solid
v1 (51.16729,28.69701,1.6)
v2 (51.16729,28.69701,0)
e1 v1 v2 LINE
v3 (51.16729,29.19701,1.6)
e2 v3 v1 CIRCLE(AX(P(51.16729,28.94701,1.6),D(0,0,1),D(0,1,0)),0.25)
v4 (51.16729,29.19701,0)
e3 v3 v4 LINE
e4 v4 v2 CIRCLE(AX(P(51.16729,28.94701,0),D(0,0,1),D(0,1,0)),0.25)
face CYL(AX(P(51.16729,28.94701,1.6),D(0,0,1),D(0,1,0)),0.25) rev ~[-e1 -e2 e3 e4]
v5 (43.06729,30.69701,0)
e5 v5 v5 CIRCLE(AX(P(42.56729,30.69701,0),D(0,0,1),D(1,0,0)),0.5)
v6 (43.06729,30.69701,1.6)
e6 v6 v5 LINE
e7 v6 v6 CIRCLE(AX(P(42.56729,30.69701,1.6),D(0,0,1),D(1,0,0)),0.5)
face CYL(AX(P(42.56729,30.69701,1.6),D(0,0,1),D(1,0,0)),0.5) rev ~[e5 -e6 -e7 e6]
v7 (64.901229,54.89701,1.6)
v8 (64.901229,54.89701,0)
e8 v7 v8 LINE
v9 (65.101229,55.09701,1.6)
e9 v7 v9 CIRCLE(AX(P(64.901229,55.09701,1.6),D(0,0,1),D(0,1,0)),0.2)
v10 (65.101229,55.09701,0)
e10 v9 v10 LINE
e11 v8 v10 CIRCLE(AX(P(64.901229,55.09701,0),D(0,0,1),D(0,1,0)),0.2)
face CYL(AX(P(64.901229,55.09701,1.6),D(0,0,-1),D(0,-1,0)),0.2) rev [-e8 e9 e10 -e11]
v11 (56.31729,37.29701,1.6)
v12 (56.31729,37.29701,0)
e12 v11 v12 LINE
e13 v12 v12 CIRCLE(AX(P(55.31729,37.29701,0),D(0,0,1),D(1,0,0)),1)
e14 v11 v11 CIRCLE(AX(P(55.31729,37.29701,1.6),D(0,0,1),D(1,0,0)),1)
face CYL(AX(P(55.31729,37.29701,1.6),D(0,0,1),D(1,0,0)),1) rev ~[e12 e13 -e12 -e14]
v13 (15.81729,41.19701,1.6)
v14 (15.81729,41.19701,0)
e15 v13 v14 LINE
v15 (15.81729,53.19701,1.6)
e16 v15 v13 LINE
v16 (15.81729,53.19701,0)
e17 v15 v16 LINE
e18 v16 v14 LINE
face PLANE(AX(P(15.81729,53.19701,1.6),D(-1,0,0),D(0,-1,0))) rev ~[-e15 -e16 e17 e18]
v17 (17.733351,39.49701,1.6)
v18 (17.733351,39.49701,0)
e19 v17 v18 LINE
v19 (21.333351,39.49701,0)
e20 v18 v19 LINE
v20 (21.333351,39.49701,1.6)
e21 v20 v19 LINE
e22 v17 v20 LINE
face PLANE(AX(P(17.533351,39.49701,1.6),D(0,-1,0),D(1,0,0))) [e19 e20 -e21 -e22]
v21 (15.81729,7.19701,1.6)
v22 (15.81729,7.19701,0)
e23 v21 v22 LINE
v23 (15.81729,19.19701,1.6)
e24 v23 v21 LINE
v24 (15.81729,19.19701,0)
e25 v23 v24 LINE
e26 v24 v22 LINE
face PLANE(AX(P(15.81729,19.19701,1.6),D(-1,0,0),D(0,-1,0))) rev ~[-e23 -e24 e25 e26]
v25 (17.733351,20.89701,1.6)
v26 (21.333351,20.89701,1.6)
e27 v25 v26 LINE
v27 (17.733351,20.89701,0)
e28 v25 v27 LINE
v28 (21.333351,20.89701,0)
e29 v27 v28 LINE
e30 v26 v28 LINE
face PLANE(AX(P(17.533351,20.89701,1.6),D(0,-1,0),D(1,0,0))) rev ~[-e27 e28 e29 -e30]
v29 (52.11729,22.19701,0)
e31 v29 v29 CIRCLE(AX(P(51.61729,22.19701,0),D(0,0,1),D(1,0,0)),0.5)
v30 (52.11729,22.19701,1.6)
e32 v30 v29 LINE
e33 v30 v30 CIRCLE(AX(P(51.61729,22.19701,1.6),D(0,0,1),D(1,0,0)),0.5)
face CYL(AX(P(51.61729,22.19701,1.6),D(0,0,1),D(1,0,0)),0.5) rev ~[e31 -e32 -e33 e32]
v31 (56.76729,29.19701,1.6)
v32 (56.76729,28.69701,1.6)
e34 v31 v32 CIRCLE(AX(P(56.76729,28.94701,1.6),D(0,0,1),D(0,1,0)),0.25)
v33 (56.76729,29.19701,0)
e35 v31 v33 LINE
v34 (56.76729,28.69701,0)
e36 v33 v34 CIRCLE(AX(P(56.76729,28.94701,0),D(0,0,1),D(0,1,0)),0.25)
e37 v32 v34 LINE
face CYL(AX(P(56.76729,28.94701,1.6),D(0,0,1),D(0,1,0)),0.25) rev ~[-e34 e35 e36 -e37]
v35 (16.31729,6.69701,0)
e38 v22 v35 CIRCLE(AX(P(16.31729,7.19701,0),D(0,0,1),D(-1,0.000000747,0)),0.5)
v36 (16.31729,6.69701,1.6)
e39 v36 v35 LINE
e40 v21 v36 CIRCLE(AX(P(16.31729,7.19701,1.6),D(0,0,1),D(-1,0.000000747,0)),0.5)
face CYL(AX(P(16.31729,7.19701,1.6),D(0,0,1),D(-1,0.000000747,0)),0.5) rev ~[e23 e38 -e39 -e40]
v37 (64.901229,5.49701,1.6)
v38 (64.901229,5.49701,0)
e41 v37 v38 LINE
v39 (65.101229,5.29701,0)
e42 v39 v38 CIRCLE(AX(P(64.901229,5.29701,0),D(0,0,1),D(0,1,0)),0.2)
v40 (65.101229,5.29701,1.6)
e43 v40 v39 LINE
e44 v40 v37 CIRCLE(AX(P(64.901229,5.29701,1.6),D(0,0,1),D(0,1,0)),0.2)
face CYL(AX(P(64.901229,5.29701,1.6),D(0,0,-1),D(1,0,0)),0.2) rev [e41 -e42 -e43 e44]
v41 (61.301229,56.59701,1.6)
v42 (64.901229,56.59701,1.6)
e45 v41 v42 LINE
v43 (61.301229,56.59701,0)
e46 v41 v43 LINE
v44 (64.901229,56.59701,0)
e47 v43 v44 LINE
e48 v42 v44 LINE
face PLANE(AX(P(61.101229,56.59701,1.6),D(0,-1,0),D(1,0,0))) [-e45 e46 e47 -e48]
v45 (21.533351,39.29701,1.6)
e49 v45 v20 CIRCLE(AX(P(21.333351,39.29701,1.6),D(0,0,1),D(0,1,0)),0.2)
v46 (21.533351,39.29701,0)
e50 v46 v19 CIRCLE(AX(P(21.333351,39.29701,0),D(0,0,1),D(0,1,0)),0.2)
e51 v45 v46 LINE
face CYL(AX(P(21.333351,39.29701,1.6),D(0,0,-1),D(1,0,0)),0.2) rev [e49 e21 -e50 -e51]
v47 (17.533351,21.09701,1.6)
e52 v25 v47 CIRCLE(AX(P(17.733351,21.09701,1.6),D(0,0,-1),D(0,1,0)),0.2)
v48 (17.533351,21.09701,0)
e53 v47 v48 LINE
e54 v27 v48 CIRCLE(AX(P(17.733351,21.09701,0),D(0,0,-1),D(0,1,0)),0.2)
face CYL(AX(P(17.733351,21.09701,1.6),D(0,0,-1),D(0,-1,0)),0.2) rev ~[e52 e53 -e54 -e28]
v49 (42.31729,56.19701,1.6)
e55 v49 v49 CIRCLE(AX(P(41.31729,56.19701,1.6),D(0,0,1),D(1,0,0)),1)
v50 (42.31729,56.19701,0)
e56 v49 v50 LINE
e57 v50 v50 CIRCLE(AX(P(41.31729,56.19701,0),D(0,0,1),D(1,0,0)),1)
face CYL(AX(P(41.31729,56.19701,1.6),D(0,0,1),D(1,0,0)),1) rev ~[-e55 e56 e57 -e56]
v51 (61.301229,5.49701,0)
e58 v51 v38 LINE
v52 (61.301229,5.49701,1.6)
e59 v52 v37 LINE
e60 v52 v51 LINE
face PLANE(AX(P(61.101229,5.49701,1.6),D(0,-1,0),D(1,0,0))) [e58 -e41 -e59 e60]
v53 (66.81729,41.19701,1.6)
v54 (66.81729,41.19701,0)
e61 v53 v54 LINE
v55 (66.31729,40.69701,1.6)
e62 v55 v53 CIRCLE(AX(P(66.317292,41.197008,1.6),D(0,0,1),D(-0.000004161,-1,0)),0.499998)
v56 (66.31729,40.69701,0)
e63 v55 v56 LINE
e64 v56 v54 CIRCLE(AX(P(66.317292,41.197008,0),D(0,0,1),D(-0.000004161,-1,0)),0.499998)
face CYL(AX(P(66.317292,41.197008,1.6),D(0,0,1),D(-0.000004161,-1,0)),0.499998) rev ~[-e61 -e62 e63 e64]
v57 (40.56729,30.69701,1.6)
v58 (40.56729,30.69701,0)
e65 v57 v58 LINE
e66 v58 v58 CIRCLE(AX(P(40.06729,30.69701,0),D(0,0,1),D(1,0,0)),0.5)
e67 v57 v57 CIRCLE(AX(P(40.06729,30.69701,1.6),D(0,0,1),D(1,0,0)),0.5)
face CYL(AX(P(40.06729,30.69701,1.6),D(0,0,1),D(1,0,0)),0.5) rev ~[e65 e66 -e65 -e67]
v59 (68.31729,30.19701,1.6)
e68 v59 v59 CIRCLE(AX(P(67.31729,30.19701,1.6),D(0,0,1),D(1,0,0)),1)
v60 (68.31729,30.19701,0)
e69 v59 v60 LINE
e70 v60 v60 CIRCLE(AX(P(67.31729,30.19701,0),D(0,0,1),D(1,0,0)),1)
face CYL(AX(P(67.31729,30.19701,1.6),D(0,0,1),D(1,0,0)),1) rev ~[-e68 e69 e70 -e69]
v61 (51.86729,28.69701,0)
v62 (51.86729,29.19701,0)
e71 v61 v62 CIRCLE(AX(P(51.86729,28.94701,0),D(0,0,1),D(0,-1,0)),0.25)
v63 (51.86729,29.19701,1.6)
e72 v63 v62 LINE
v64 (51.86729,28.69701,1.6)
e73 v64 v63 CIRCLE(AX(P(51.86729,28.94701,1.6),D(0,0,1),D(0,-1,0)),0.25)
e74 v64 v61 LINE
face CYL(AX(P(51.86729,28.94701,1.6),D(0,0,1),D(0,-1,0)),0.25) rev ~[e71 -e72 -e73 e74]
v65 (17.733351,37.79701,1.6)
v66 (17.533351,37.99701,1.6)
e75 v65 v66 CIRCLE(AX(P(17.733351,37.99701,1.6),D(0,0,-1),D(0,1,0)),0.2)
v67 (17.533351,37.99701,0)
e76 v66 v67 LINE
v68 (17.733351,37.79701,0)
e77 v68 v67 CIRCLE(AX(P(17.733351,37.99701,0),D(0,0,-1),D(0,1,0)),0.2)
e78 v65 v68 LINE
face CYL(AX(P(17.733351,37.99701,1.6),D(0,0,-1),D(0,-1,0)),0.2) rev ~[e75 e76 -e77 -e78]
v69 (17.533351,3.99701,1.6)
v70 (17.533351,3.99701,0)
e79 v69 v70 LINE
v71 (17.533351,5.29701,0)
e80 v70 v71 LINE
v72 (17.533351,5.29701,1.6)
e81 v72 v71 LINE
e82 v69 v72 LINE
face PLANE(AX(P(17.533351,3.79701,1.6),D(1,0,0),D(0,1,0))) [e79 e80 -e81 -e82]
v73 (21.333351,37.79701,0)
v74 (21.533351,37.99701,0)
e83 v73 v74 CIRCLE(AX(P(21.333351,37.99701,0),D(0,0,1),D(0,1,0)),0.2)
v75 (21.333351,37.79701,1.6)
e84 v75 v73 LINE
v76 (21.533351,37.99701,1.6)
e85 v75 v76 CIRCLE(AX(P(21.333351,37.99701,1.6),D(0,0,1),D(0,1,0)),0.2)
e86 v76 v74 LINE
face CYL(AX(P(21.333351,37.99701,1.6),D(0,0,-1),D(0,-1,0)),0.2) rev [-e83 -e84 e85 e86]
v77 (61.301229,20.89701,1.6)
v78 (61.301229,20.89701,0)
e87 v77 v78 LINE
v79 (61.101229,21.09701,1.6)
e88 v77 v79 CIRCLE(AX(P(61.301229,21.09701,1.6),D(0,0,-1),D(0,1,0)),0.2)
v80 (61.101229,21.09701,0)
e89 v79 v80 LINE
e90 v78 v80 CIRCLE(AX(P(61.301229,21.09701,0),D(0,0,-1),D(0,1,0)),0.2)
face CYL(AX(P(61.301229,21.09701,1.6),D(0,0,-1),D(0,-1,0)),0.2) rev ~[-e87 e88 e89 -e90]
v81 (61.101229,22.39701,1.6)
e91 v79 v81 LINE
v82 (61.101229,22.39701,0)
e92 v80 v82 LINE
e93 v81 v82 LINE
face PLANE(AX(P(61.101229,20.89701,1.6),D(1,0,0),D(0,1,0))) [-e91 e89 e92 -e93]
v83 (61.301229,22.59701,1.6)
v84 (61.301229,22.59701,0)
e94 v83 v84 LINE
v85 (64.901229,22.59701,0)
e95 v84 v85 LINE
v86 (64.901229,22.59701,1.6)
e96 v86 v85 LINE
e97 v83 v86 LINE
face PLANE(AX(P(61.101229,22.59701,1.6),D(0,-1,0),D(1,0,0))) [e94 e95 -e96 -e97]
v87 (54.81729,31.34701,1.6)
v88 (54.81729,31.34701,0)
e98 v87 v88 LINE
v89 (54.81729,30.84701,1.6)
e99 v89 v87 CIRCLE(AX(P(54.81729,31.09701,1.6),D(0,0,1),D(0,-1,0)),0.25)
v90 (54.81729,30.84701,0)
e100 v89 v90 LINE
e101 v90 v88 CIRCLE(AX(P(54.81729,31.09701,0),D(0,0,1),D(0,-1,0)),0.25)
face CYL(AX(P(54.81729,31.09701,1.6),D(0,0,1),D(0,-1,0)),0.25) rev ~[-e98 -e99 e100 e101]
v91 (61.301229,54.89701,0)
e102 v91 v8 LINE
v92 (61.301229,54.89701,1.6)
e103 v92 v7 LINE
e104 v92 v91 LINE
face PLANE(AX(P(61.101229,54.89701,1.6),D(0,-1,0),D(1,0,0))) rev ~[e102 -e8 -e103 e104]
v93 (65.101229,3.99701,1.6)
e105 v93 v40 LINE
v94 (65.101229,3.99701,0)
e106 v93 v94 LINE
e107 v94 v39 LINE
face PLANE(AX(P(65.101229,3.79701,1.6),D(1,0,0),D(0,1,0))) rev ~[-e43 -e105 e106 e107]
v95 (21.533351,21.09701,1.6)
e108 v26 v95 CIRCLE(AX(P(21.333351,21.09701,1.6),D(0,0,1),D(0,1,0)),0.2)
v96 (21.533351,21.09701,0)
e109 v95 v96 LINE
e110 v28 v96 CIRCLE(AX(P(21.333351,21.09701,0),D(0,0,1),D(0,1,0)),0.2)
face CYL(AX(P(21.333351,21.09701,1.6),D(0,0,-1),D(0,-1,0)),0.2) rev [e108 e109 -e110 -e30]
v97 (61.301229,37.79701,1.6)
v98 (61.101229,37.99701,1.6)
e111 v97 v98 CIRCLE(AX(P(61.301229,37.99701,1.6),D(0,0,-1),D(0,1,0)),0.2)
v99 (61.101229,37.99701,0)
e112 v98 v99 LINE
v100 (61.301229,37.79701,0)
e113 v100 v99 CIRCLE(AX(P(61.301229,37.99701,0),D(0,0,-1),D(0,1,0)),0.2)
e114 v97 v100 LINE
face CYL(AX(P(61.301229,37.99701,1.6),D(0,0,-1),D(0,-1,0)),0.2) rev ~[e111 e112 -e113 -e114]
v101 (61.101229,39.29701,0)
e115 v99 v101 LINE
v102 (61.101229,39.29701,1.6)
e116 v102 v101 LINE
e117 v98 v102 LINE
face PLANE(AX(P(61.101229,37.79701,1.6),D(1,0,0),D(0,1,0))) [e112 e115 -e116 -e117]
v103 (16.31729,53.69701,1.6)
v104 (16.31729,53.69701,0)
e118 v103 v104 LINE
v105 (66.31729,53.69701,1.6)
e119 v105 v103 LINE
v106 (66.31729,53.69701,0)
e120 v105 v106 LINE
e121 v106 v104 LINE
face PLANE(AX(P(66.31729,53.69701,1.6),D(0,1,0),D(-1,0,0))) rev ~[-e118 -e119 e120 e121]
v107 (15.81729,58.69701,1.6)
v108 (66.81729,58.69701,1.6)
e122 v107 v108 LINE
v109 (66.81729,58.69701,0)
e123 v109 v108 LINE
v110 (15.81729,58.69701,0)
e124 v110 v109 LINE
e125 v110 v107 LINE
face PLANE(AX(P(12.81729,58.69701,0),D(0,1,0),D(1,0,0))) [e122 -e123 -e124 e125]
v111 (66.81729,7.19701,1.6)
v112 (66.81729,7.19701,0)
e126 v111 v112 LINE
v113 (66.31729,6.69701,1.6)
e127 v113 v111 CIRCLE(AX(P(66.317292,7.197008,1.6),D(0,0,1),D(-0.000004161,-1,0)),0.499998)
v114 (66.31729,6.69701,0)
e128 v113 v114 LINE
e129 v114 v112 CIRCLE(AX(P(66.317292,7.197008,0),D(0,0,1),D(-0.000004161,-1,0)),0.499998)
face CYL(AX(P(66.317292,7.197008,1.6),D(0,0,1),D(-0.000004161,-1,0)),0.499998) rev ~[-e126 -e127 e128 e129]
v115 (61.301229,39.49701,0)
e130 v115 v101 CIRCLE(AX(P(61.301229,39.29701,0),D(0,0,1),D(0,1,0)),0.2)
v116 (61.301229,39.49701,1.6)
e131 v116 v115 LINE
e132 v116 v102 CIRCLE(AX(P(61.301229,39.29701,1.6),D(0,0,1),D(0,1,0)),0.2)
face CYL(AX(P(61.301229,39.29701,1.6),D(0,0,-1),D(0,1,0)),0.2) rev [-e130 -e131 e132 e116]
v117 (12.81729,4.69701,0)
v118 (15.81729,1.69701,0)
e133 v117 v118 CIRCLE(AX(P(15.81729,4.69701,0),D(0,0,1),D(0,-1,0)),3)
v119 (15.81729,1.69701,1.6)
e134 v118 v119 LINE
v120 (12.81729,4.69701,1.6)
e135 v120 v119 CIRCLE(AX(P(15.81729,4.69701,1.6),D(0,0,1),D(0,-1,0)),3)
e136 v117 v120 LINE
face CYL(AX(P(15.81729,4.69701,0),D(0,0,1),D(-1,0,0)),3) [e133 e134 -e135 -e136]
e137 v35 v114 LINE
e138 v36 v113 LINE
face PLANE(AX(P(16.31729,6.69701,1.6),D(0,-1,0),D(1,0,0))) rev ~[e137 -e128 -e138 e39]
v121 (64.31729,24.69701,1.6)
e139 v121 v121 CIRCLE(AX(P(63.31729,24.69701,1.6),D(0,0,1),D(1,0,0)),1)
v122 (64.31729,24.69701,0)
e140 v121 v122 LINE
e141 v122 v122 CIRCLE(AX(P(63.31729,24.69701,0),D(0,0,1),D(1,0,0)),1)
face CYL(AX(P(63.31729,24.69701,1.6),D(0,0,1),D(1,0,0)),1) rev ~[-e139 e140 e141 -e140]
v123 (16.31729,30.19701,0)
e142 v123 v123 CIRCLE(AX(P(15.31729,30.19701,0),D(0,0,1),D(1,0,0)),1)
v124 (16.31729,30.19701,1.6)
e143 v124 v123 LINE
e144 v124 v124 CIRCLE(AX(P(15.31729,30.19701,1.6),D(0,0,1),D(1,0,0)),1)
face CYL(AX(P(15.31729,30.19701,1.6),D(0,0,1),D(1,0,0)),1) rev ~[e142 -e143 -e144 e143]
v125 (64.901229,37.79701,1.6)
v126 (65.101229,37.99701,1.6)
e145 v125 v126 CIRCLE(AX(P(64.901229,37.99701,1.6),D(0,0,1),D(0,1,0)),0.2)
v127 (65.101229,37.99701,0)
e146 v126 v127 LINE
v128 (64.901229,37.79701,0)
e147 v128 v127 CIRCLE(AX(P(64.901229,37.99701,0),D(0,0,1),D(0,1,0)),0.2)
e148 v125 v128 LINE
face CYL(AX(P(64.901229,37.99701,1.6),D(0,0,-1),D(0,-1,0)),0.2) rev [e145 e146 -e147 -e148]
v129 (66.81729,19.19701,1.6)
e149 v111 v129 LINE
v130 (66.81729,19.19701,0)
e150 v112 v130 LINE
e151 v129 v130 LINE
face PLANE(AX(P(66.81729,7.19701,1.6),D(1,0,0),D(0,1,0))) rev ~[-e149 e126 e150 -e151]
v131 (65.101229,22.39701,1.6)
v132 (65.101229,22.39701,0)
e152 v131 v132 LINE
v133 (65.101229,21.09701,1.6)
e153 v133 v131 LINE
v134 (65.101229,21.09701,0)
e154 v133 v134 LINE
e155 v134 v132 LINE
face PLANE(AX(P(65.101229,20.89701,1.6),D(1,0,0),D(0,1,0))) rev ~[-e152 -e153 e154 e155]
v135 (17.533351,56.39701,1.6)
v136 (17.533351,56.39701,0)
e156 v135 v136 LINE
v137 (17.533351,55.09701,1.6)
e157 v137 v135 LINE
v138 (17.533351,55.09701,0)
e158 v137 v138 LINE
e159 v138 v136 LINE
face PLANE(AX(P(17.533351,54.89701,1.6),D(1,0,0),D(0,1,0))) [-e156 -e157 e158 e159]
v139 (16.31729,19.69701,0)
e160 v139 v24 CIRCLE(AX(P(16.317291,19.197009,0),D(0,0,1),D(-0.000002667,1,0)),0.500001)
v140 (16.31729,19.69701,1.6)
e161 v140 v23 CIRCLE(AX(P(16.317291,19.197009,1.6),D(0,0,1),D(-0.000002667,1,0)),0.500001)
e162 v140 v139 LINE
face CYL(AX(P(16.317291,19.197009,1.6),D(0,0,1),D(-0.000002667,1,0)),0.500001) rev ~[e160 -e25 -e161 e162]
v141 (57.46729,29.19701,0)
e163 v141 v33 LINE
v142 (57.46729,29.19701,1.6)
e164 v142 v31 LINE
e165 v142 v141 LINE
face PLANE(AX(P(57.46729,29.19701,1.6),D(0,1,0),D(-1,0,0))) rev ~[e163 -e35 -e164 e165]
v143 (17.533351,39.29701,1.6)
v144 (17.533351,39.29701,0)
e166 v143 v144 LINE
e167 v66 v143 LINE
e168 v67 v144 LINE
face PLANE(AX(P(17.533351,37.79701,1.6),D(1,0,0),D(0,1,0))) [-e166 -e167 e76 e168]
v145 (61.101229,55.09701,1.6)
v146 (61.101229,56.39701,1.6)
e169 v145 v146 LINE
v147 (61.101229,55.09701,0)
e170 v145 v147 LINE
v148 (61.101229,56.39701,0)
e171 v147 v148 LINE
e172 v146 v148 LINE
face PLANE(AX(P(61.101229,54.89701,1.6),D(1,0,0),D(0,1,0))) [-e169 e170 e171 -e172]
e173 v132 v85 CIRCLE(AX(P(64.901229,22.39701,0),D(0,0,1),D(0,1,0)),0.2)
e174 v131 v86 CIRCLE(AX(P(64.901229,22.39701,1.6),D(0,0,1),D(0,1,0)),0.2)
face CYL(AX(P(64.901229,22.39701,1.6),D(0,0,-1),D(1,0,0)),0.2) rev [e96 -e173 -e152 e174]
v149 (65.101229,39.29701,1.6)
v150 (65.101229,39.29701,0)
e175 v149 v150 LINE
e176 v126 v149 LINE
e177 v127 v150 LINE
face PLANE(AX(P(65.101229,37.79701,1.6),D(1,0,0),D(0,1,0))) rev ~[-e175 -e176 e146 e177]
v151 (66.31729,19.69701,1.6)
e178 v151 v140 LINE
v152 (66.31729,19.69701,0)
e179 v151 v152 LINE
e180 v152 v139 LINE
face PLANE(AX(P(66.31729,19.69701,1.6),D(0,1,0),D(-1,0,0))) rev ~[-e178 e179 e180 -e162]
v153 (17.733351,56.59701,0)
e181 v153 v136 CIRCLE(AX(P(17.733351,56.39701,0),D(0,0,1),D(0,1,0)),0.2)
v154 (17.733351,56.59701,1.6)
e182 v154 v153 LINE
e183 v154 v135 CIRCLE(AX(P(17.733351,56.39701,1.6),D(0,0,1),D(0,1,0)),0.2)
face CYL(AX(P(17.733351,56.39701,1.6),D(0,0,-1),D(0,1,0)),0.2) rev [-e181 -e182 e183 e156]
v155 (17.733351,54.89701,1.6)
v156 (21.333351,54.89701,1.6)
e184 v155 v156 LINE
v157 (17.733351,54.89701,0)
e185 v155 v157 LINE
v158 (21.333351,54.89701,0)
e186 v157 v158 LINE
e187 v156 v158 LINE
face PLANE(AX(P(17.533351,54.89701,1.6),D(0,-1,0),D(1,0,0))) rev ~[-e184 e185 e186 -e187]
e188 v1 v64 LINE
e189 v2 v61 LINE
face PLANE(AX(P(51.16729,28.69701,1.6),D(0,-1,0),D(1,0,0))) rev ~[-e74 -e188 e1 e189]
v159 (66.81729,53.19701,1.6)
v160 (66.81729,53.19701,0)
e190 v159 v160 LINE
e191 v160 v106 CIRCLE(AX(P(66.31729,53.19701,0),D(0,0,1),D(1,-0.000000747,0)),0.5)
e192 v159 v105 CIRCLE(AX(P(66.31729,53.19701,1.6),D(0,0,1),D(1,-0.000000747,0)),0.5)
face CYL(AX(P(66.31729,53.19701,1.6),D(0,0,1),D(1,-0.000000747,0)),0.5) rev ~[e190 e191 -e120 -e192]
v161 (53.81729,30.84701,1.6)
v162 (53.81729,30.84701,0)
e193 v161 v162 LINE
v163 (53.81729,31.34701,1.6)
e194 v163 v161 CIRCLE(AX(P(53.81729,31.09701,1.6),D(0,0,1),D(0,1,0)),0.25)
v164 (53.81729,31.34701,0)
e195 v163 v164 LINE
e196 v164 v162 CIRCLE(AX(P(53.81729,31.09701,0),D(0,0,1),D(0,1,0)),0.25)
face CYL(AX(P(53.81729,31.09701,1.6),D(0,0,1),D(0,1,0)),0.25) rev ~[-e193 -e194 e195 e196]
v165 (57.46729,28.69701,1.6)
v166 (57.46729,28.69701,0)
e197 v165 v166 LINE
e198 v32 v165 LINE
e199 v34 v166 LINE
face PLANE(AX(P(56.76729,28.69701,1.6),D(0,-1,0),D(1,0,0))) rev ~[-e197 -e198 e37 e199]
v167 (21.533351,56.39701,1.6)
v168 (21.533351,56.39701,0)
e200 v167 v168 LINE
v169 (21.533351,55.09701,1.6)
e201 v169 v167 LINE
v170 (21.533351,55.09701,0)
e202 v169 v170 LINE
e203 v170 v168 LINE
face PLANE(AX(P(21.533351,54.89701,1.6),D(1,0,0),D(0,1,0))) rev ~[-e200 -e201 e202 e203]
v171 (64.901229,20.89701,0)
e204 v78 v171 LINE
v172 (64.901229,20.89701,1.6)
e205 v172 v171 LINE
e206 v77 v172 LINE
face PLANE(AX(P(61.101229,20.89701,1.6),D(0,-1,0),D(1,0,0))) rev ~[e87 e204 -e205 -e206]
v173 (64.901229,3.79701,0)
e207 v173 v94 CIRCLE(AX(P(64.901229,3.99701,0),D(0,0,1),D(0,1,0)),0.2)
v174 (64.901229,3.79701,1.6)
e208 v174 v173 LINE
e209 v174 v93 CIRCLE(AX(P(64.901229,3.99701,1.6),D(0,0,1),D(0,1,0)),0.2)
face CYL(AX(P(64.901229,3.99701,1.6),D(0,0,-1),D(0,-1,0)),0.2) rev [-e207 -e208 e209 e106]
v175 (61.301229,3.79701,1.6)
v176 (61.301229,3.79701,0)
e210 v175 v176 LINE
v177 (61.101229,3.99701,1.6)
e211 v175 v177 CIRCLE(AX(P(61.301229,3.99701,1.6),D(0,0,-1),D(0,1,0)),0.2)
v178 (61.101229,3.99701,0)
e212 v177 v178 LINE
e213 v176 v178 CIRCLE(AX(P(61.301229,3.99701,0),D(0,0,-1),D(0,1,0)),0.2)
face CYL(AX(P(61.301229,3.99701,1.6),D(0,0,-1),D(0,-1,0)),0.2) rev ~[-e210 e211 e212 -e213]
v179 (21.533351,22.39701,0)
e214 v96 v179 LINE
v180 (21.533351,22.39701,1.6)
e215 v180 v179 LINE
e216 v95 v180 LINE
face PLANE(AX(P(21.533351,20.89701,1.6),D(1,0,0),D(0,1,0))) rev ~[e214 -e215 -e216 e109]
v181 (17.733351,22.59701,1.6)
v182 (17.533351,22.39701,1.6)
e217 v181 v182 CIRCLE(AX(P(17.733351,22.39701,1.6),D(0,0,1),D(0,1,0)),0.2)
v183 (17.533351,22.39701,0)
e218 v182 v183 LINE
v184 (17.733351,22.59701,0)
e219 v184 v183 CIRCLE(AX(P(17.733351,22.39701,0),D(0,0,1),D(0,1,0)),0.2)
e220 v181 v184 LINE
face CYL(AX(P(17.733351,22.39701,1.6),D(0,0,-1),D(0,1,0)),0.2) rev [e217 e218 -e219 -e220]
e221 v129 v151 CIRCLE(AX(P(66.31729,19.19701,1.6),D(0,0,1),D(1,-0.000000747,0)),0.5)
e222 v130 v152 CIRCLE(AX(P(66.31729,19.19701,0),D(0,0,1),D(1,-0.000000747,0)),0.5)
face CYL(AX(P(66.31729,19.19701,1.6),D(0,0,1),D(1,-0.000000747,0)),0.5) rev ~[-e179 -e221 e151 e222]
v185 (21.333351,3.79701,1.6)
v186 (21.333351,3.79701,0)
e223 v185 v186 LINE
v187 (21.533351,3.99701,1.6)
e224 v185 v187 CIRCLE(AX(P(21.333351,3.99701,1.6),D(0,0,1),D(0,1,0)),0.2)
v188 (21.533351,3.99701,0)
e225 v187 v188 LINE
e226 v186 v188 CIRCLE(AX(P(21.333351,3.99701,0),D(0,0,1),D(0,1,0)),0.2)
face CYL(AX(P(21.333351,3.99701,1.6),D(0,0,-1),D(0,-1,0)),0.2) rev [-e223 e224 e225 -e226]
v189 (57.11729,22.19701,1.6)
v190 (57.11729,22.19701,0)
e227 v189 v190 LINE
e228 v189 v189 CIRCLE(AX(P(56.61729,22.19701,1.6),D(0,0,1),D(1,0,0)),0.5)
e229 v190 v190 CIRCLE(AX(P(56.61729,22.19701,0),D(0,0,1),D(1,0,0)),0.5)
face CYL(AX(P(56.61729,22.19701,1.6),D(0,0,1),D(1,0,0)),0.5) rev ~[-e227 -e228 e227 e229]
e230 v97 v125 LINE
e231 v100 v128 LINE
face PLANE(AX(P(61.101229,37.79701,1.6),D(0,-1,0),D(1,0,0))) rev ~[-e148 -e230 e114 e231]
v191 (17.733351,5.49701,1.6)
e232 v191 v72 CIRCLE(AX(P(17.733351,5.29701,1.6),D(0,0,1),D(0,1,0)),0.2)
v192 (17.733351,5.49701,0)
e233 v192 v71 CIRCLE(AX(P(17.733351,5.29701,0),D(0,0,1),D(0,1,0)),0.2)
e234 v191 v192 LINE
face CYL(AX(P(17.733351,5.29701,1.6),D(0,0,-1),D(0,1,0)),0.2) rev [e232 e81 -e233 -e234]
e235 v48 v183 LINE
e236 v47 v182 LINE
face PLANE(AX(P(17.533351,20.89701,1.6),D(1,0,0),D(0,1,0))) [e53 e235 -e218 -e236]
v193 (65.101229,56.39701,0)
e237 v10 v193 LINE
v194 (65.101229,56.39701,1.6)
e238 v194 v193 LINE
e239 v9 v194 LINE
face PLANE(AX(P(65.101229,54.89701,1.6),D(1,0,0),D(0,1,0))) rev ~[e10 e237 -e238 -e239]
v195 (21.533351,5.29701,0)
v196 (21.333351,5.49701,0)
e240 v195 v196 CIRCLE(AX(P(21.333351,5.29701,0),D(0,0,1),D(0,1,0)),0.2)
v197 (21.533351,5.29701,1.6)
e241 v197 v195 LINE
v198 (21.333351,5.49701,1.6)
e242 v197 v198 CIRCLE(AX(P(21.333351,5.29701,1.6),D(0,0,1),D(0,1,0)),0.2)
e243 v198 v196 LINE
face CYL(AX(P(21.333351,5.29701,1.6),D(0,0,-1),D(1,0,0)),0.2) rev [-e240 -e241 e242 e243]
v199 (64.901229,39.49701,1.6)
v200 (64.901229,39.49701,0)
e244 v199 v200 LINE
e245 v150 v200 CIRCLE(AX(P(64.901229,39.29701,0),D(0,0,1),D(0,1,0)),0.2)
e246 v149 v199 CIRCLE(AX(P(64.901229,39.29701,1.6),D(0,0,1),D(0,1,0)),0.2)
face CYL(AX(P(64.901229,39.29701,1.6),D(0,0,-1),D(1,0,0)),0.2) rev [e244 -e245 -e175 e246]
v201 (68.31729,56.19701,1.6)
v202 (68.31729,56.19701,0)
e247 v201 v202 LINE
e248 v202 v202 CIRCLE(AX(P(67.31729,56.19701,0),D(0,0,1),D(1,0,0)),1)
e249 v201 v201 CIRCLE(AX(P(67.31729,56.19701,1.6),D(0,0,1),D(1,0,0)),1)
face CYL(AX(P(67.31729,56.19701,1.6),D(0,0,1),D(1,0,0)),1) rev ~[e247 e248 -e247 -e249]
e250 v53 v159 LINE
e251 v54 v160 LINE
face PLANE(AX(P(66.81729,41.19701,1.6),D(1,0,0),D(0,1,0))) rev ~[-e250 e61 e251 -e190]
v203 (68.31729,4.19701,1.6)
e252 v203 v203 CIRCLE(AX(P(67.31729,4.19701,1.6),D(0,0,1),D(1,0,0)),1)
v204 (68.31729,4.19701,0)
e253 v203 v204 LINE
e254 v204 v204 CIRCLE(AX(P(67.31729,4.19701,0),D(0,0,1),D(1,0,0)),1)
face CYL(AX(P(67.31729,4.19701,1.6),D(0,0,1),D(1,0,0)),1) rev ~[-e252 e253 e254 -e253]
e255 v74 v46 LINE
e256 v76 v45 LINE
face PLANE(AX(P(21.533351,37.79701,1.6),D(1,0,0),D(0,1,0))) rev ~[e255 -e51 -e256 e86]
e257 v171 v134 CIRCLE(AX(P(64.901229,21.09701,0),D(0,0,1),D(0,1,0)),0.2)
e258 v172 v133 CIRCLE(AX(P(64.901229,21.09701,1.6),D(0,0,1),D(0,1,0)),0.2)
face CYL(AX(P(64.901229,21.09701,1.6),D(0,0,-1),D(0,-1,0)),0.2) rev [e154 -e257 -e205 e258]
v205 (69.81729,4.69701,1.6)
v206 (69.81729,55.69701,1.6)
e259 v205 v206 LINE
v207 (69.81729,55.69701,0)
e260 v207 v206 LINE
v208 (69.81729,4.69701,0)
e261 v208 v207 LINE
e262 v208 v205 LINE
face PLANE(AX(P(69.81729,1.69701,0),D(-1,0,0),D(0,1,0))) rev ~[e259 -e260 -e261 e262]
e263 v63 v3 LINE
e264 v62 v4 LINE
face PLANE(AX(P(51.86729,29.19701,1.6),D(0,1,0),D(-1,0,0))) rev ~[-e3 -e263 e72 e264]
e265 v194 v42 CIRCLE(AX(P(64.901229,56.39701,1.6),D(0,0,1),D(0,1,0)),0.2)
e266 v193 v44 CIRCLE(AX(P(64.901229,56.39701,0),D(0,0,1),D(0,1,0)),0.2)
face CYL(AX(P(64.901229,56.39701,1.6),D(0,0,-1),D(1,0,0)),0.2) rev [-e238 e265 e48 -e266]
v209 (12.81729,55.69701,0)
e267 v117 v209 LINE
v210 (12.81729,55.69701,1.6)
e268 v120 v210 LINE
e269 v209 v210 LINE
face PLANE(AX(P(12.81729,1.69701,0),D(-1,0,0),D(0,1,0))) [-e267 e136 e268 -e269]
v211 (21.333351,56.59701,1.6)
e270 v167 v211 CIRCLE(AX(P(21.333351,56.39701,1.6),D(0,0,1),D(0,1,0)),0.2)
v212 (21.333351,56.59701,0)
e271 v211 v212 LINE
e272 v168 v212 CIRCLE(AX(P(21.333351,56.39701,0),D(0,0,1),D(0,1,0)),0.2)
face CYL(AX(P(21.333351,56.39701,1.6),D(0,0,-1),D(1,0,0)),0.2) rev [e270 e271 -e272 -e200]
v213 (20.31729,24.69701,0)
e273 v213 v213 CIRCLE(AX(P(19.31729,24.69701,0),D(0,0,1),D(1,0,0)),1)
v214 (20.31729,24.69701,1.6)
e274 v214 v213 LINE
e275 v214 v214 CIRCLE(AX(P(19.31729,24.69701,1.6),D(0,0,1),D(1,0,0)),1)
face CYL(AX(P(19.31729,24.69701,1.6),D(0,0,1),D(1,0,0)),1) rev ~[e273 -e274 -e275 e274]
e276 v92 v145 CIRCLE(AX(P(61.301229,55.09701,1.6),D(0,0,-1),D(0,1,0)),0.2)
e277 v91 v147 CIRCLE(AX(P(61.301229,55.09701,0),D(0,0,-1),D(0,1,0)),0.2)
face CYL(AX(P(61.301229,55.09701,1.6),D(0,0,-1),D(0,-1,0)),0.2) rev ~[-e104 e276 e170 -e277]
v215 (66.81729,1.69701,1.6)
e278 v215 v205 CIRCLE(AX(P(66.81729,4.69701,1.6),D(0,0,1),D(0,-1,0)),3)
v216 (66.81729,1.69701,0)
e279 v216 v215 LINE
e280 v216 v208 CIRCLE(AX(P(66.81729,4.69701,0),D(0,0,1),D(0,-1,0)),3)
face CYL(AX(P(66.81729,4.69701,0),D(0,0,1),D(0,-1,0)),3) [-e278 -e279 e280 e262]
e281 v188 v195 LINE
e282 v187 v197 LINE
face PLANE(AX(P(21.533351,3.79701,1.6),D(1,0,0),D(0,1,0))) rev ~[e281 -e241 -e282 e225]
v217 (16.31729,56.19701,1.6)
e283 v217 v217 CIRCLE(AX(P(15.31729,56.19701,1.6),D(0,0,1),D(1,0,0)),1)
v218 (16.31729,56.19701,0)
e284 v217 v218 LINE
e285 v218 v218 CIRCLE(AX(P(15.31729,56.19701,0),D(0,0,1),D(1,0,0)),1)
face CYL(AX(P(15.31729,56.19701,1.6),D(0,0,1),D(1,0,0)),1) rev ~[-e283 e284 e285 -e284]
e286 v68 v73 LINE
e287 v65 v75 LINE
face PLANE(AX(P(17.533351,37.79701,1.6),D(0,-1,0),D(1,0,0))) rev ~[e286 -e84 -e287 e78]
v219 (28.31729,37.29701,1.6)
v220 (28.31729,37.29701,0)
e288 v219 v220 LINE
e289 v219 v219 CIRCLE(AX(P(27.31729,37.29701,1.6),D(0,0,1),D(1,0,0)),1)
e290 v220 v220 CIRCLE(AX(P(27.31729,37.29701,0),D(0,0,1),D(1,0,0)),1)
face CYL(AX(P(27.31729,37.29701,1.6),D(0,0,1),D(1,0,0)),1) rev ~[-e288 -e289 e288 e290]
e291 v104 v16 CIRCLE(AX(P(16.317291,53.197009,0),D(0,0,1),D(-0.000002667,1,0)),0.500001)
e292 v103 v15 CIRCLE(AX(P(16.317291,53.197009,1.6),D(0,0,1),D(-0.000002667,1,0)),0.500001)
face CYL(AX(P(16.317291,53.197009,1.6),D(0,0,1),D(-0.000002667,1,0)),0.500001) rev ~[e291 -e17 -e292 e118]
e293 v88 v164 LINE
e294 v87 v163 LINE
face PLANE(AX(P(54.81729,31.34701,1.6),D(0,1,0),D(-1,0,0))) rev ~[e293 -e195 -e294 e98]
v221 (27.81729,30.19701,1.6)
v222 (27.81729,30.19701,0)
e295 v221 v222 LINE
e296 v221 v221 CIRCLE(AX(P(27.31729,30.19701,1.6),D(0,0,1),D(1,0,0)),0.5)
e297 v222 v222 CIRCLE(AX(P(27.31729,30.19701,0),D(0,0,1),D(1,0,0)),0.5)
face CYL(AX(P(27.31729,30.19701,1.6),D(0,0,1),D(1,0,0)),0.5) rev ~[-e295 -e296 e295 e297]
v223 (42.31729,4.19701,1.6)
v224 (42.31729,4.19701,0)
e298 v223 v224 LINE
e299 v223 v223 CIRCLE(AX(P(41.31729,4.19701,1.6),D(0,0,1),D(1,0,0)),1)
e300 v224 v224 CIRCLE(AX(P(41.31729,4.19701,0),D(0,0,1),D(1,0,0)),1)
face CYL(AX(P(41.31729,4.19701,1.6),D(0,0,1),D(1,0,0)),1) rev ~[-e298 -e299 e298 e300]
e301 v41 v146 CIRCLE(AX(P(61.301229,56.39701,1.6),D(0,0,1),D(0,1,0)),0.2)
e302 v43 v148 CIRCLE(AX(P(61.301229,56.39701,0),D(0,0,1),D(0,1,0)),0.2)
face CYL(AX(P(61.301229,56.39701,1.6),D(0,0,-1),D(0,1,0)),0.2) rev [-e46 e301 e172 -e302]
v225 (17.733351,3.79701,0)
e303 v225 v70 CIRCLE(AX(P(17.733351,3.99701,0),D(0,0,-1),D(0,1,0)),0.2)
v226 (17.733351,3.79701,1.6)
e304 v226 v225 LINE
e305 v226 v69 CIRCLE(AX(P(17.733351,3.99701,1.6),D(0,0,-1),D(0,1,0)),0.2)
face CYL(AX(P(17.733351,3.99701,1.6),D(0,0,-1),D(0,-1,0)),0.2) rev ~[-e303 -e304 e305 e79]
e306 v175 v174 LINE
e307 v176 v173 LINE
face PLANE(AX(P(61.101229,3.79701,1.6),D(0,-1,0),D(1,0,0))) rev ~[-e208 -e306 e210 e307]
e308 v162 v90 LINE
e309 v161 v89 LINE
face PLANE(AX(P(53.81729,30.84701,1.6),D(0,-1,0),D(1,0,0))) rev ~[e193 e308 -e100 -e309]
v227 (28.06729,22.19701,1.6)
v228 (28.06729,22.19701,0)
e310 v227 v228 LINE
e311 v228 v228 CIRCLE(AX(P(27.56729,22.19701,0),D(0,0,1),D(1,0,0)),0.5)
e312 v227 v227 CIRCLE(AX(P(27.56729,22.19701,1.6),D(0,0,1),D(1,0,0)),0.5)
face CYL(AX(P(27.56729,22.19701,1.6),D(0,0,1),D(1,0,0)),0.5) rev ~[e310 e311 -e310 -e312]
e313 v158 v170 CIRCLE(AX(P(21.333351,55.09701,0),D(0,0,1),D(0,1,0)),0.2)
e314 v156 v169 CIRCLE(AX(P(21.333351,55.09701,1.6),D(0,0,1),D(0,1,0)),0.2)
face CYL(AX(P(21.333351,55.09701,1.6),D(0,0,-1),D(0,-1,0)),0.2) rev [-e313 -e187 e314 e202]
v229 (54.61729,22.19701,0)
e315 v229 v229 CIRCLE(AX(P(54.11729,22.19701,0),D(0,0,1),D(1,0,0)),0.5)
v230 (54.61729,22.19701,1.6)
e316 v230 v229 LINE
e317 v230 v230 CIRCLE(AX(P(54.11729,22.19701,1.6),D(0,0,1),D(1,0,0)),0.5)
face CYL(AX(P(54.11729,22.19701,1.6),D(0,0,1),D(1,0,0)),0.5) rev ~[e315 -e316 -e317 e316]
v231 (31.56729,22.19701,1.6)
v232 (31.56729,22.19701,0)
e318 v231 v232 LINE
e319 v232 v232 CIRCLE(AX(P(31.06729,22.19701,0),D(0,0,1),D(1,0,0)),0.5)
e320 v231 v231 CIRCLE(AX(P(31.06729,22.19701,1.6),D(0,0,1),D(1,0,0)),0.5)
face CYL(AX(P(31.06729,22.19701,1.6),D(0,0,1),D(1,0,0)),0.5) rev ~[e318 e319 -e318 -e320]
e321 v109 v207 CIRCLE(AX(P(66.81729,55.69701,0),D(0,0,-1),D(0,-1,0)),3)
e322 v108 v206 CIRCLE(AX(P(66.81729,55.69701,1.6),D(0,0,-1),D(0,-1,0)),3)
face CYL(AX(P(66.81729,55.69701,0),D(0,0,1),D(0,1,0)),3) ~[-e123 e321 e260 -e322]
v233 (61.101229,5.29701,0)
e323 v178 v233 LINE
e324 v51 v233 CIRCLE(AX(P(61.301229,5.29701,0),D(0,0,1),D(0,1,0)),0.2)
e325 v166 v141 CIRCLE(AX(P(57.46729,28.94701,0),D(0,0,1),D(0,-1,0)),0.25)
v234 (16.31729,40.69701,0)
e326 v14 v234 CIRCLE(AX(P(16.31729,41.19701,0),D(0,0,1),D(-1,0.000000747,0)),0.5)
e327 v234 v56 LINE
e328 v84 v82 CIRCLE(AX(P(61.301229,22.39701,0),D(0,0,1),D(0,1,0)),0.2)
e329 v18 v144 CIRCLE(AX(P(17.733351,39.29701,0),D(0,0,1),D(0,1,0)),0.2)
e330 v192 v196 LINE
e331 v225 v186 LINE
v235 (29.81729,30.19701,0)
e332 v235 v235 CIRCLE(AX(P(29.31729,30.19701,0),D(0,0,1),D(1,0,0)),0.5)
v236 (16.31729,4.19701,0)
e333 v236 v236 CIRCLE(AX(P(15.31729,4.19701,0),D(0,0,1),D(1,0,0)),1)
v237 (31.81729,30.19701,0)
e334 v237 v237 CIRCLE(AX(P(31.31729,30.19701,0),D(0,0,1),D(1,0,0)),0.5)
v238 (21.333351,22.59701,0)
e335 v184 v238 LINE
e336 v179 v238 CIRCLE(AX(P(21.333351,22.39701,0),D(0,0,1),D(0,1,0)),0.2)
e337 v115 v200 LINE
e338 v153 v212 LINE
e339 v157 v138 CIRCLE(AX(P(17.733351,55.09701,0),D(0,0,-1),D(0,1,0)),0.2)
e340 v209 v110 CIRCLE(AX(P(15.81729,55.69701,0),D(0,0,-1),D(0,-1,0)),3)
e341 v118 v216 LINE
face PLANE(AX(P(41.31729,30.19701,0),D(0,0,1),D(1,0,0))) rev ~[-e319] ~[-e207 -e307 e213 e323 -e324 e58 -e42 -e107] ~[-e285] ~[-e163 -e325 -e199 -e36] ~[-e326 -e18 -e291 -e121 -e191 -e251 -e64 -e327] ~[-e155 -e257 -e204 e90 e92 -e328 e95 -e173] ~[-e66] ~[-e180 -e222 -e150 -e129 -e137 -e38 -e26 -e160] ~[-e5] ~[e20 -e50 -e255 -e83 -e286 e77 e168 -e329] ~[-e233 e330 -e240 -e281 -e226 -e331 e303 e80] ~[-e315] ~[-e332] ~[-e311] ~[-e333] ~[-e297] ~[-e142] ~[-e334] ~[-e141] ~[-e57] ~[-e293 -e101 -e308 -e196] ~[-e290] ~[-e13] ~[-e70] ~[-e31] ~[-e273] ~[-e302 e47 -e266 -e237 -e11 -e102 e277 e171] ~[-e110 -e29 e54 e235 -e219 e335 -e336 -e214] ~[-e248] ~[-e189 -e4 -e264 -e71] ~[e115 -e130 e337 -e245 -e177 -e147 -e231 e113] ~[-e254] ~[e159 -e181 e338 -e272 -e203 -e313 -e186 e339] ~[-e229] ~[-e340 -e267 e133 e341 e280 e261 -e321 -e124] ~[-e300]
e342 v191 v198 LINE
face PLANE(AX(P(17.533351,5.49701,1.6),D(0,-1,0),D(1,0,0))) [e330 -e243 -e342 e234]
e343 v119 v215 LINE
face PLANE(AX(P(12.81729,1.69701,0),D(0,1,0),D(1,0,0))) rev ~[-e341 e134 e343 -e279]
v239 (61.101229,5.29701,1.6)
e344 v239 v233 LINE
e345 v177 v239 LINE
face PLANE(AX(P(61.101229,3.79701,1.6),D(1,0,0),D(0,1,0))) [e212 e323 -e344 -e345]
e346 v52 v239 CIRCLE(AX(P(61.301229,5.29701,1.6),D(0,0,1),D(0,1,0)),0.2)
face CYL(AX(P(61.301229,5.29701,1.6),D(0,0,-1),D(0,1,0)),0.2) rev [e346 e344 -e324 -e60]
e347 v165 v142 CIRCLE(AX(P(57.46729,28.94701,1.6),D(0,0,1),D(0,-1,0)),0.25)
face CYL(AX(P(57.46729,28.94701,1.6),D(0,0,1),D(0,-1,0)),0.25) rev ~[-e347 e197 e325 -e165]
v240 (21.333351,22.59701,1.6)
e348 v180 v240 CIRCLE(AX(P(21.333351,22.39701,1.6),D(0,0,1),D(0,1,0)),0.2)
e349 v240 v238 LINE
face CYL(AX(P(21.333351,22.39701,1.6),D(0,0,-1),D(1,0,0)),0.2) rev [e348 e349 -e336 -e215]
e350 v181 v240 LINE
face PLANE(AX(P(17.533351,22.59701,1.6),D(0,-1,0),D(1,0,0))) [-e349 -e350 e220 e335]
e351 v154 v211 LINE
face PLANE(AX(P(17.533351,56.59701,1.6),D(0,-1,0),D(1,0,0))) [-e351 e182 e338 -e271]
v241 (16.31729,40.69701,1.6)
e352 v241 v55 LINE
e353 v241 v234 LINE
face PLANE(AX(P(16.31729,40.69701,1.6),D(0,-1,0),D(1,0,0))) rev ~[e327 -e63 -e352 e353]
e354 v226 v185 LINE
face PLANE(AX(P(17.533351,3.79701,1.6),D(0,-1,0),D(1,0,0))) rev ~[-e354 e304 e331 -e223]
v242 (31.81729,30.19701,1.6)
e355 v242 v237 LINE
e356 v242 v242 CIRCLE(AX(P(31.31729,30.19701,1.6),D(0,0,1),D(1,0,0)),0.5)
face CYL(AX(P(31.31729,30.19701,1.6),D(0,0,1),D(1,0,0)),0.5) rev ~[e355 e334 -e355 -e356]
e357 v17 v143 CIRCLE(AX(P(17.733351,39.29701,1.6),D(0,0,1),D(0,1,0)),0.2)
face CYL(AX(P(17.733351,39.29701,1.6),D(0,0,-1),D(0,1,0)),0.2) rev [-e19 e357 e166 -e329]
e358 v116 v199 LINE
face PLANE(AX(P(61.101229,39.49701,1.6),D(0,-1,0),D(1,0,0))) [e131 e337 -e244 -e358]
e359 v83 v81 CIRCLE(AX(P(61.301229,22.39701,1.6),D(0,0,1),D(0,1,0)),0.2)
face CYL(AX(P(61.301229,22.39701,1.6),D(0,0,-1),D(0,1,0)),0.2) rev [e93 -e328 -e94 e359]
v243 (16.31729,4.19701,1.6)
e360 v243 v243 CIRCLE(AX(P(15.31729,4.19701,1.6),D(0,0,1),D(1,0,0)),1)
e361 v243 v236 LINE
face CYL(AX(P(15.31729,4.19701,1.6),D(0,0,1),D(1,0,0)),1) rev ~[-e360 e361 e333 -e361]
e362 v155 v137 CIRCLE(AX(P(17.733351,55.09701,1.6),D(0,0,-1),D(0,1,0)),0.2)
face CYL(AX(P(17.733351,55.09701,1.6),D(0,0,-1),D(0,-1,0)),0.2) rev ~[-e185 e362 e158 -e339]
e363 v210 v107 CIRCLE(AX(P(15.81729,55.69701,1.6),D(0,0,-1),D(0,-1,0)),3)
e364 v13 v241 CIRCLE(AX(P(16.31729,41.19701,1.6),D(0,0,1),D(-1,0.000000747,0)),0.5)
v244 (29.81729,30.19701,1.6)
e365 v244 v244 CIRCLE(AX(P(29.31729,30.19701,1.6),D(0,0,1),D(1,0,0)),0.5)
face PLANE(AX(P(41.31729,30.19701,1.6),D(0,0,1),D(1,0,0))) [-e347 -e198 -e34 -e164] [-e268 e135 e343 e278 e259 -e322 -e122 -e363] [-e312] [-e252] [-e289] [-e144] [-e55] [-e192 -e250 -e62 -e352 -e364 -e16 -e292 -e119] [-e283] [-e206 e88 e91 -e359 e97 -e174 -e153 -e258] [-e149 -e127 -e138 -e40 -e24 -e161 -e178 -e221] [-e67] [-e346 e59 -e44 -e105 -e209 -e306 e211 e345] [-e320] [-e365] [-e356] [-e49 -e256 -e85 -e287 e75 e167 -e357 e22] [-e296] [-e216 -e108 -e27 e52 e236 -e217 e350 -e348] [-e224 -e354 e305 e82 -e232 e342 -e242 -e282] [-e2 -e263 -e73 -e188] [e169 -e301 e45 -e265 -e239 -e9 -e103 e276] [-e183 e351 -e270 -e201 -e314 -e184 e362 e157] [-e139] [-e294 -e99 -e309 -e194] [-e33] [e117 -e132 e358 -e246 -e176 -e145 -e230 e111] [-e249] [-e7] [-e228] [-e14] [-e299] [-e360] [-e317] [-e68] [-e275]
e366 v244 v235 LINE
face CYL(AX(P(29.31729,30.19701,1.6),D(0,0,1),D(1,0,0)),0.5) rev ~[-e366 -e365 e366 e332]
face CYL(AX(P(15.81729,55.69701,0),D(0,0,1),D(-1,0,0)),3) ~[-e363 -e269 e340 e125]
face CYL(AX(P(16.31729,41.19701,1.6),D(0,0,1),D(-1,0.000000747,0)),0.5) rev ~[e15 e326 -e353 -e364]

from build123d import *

# Parameters (mm, degrees)
F0_W      = 57
F0_H      = 57
F1_DEPTH  = 1.6
F4_R      = 0.5
F5_R      = 0.5
F6_R      = 0.5
F2_R      = 0.5
F7_DEPTH  = 4
F8_R      = 3
F9_R      = 1
F10_DEPTH = 25
F12_DEPTH = 5
F13_W     = 4
F13_H     = 1.7
F14_DEPTH = 25
F15_R     = 0.2


with BuildPart() as f1:
    # F0 (on Top) → F1 (new body)
    with BuildSketch(Plane.XY):
        with Locations((41.31729, 30.19701)):
            Rectangle(F0_W, F0_H)
    extrude(amount=F1_DEPTH)

    # F4 (on face) + F5 (on face) + F6 (on face) + F3 (on face) + F2 (on face) → F7 (cut)
    with BuildSketch(Plane.XY.offset(1.6)):
        with Locations((51.61729, 22.19701)):
            Circle(F4_R)
        with Locations((56.61729, 22.19701)):
            Circle(F4_R)
        with Locations((54.11729, 22.19701)):
            Circle(F4_R)
    with BuildSketch(Plane.XY.offset(1.6)):
        with Locations((40.06729, 30.69701)):
            Circle(F5_R)
        with Locations((42.56729, 30.69701)):
            Circle(F5_R)
    with BuildSketch(Plane.XY.offset(1.6)):
        with Locations((27.56729, 22.19701)):
            Circle(F6_R)
        with Locations((31.06729, 22.19701)):
            Circle(F6_R)
    with BuildSketch(Plane.XY.offset(1.6)):
        with BuildLine():
            ThreePointArc((53.81729, 31.34701), (53.56729, 31.09701), (53.81729, 30.84701))
            Line((53.81729, 30.84701), (54.81729, 30.84701))
            ThreePointArc((54.81729, 30.84701), (55.06729, 31.09701), (54.81729, 31.34701))
            Line((54.81729, 31.34701), (53.81729, 31.34701))
        make_face()
        with BuildLine():
            ThreePointArc((51.86729, 28.69701), (52.11729, 28.94701), (51.86729, 29.19701))
            Line((51.86729, 29.19701), (51.16729, 29.19701))
            ThreePointArc((51.16729, 29.19701), (50.91729, 28.94701), (51.16729, 28.69701))
            Line((51.16729, 28.69701), (51.86729, 28.69701))
        make_face()
        with BuildLine():
            Line((56.76729, 28.69701), (57.46729, 28.69701))
            ThreePointArc((57.46729, 28.69701), (57.71729, 28.94701), (57.46729, 29.19701))
            Line((57.46729, 29.19701), (56.76729, 29.19701))
            ThreePointArc((56.76729, 29.19701), (56.51729, 28.94701), (56.76729, 28.69701))
        make_face()
    with BuildSketch(Plane.XY.offset(1.6)):
        with Locations((27.31729, 30.19701)):
            Circle(F2_R)
        with Locations((29.31729, 30.19701)):
            Circle(F2_R)
        with Locations((31.31729, 30.19701)):
            Circle(F2_R)
    extrude(amount=-F7_DEPTH, mode=Mode.SUBTRACT)

    # F8
    f8_edges = [f1.edges().sort_by_distance(p)[0] for p in [
        (12.81729, 1.69701, 0.8),
        (69.81729, 1.69701, 0.8),
        (69.81729, 58.69701, 0.8),
        (12.81729, 58.69701, 0.8),
    ]]
    fillet(f8_edges, radius=F8_R)

    # F9 (on face) → F10 (cut)
    with BuildSketch(Plane.XY.offset(1.6)):
        with Locations((63.31729, 24.69701)):
            Circle(F9_R)
        with Locations((19.31729, 24.69701)):
            Circle(F9_R)
        with Locations((55.31729, 37.29701)):
            Circle(F9_R)
        with Locations((27.31729, 37.29701)):
            Circle(F9_R)
        with Locations((15.31729, 56.19701)):
            Circle(F9_R)
        with Locations((67.31729, 56.19701)):
            Circle(F9_R)
        with Locations((15.31729, 4.19701)):
            Circle(F9_R)
        with Locations((67.31729, 4.19701)):
            Circle(F9_R)
        with Locations((41.31729, 56.19701)):
            Circle(F9_R)
        with Locations((41.31729, 4.19701)):
            Circle(F9_R)
        with Locations((15.31729, 30.19701)):
            Circle(F9_R)
        with Locations((67.31729, 30.19701)):
            Circle(F9_R)
    extrude(amount=-F10_DEPTH, mode=Mode.SUBTRACT)

    # F11 (on face) → F12 (cut)
    with BuildSketch(Plane.XY.offset(1.6)):
        with BuildLine():
            ThreePointArc((66.81729, 19.19701), (66.670844, 19.550563), (66.31729, 19.69701))
            Line((66.31729, 19.69701), (16.31729, 19.69701))
            ThreePointArc((16.31729, 19.69701), (15.963737, 19.550563), (15.81729, 19.19701))
            Line((15.81729, 19.19701), (15.81729, 7.19701))
            ThreePointArc((15.81729, 7.19701), (15.963737, 6.843456), (16.31729, 6.69701))
            Line((16.31729, 6.69701), (66.31729, 6.69701))
            ThreePointArc((66.31729, 6.69701), (66.670844, 6.843456), (66.81729, 7.19701))
            Line((66.81729, 7.19701), (66.81729, 19.19701))
        make_face()
        with BuildLine():
            ThreePointArc((16.31729, 53.69701), (15.963737, 53.550563), (15.81729, 53.19701))
            Line((15.81729, 53.19701), (15.81729, 41.19701))
            ThreePointArc((15.81729, 41.19701), (15.963737, 40.843456), (16.31729, 40.69701))
            Line((16.31729, 40.69701), (66.31729, 40.69701))
            ThreePointArc((66.31729, 40.69701), (66.670844, 40.843456), (66.81729, 41.19701))
            Line((66.81729, 41.19701), (66.81729, 53.19701))
            ThreePointArc((66.81729, 53.19701), (66.670844, 53.550563), (66.31729, 53.69701))
            Line((66.31729, 53.69701), (16.31729, 53.69701))
        make_face()
    extrude(amount=-F12_DEPTH, mode=Mode.SUBTRACT)

    # F13 (on face) → F14 (cut)
    with BuildSketch(Plane.XY.offset(1.6)):
        with Locations((19.533351, 4.64701)):
            Rectangle(F13_W, F13_H)
        with Locations((63.101229, 4.64701)):
            Rectangle(F13_W, F13_H)
        with Locations((63.101229, 21.74701)):
            Rectangle(F13_W, F13_H)
        with Locations((19.533351, 21.74701)):
            Rectangle(F13_W, F13_H)
        with Locations((19.533351, 38.64701)):
            Rectangle(F13_W, F13_H)
        with Locations((19.533351, 55.74701)):
            Rectangle(F13_W, F13_H)
        with Locations((63.101229, 38.64701)):
            Rectangle(F13_W, F13_H)
        with Locations((63.101229, 55.74701)):
            Rectangle(F13_W, F13_H)
    extrude(amount=-F14_DEPTH, mode=Mode.SUBTRACT)

    # F15
    f15_edges = [f1.edges().sort_by_distance(p)[0] for p in [
        (17.533351, 56.59701, 0.8),
        (17.533351, 54.89701, 0.8),
        (21.533351, 54.89701, 0.8),
        (21.533351, 56.59701, 0.8),
        (21.533351, 39.49701, 0.8),
        (17.533351, 39.49701, 0.8),
        (17.533351, 37.79701, 0.8),
        (21.533351, 37.79701, 0.8),
        (65.101229, 54.89701, 0.8),
        (65.101229, 56.59701, 0.8),
        (61.101229, 56.59701, 0.8),
        (61.101229, 54.89701, 0.8),
        (61.101229, 37.79701, 0.8),
        (61.101229, 39.49701, 0.8),
        (65.101229, 39.49701, 0.8),
        (65.101229, 37.79701, 0.8),
        (21.533351, 20.89701, 0.8),
        (21.533351, 22.59701, 0.8),
        (17.533351, 22.59701, 0.8),
        (17.533351, 20.89701, 0.8),
        (61.101229, 20.89701, 0.8),
        (61.101229, 22.59701, 0.8),
        (65.101229, 22.59701, 0.8),
        (65.101229, 20.89701, 0.8),
        (65.101229, 3.79701, 0.8),
        (65.101229, 5.49701, 0.8),
        (61.101229, 5.49701, 0.8),
        (61.101229, 3.79701, 0.8),
        (17.533351, 3.79701, 0.8),
        (21.533351, 3.79701, 0.8),
        (21.533351, 5.49701, 0.8),
        (17.533351, 5.49701, 0.8),
    ]]
    fillet(f15_edges, radius=F15_R)


solid = f1.part
